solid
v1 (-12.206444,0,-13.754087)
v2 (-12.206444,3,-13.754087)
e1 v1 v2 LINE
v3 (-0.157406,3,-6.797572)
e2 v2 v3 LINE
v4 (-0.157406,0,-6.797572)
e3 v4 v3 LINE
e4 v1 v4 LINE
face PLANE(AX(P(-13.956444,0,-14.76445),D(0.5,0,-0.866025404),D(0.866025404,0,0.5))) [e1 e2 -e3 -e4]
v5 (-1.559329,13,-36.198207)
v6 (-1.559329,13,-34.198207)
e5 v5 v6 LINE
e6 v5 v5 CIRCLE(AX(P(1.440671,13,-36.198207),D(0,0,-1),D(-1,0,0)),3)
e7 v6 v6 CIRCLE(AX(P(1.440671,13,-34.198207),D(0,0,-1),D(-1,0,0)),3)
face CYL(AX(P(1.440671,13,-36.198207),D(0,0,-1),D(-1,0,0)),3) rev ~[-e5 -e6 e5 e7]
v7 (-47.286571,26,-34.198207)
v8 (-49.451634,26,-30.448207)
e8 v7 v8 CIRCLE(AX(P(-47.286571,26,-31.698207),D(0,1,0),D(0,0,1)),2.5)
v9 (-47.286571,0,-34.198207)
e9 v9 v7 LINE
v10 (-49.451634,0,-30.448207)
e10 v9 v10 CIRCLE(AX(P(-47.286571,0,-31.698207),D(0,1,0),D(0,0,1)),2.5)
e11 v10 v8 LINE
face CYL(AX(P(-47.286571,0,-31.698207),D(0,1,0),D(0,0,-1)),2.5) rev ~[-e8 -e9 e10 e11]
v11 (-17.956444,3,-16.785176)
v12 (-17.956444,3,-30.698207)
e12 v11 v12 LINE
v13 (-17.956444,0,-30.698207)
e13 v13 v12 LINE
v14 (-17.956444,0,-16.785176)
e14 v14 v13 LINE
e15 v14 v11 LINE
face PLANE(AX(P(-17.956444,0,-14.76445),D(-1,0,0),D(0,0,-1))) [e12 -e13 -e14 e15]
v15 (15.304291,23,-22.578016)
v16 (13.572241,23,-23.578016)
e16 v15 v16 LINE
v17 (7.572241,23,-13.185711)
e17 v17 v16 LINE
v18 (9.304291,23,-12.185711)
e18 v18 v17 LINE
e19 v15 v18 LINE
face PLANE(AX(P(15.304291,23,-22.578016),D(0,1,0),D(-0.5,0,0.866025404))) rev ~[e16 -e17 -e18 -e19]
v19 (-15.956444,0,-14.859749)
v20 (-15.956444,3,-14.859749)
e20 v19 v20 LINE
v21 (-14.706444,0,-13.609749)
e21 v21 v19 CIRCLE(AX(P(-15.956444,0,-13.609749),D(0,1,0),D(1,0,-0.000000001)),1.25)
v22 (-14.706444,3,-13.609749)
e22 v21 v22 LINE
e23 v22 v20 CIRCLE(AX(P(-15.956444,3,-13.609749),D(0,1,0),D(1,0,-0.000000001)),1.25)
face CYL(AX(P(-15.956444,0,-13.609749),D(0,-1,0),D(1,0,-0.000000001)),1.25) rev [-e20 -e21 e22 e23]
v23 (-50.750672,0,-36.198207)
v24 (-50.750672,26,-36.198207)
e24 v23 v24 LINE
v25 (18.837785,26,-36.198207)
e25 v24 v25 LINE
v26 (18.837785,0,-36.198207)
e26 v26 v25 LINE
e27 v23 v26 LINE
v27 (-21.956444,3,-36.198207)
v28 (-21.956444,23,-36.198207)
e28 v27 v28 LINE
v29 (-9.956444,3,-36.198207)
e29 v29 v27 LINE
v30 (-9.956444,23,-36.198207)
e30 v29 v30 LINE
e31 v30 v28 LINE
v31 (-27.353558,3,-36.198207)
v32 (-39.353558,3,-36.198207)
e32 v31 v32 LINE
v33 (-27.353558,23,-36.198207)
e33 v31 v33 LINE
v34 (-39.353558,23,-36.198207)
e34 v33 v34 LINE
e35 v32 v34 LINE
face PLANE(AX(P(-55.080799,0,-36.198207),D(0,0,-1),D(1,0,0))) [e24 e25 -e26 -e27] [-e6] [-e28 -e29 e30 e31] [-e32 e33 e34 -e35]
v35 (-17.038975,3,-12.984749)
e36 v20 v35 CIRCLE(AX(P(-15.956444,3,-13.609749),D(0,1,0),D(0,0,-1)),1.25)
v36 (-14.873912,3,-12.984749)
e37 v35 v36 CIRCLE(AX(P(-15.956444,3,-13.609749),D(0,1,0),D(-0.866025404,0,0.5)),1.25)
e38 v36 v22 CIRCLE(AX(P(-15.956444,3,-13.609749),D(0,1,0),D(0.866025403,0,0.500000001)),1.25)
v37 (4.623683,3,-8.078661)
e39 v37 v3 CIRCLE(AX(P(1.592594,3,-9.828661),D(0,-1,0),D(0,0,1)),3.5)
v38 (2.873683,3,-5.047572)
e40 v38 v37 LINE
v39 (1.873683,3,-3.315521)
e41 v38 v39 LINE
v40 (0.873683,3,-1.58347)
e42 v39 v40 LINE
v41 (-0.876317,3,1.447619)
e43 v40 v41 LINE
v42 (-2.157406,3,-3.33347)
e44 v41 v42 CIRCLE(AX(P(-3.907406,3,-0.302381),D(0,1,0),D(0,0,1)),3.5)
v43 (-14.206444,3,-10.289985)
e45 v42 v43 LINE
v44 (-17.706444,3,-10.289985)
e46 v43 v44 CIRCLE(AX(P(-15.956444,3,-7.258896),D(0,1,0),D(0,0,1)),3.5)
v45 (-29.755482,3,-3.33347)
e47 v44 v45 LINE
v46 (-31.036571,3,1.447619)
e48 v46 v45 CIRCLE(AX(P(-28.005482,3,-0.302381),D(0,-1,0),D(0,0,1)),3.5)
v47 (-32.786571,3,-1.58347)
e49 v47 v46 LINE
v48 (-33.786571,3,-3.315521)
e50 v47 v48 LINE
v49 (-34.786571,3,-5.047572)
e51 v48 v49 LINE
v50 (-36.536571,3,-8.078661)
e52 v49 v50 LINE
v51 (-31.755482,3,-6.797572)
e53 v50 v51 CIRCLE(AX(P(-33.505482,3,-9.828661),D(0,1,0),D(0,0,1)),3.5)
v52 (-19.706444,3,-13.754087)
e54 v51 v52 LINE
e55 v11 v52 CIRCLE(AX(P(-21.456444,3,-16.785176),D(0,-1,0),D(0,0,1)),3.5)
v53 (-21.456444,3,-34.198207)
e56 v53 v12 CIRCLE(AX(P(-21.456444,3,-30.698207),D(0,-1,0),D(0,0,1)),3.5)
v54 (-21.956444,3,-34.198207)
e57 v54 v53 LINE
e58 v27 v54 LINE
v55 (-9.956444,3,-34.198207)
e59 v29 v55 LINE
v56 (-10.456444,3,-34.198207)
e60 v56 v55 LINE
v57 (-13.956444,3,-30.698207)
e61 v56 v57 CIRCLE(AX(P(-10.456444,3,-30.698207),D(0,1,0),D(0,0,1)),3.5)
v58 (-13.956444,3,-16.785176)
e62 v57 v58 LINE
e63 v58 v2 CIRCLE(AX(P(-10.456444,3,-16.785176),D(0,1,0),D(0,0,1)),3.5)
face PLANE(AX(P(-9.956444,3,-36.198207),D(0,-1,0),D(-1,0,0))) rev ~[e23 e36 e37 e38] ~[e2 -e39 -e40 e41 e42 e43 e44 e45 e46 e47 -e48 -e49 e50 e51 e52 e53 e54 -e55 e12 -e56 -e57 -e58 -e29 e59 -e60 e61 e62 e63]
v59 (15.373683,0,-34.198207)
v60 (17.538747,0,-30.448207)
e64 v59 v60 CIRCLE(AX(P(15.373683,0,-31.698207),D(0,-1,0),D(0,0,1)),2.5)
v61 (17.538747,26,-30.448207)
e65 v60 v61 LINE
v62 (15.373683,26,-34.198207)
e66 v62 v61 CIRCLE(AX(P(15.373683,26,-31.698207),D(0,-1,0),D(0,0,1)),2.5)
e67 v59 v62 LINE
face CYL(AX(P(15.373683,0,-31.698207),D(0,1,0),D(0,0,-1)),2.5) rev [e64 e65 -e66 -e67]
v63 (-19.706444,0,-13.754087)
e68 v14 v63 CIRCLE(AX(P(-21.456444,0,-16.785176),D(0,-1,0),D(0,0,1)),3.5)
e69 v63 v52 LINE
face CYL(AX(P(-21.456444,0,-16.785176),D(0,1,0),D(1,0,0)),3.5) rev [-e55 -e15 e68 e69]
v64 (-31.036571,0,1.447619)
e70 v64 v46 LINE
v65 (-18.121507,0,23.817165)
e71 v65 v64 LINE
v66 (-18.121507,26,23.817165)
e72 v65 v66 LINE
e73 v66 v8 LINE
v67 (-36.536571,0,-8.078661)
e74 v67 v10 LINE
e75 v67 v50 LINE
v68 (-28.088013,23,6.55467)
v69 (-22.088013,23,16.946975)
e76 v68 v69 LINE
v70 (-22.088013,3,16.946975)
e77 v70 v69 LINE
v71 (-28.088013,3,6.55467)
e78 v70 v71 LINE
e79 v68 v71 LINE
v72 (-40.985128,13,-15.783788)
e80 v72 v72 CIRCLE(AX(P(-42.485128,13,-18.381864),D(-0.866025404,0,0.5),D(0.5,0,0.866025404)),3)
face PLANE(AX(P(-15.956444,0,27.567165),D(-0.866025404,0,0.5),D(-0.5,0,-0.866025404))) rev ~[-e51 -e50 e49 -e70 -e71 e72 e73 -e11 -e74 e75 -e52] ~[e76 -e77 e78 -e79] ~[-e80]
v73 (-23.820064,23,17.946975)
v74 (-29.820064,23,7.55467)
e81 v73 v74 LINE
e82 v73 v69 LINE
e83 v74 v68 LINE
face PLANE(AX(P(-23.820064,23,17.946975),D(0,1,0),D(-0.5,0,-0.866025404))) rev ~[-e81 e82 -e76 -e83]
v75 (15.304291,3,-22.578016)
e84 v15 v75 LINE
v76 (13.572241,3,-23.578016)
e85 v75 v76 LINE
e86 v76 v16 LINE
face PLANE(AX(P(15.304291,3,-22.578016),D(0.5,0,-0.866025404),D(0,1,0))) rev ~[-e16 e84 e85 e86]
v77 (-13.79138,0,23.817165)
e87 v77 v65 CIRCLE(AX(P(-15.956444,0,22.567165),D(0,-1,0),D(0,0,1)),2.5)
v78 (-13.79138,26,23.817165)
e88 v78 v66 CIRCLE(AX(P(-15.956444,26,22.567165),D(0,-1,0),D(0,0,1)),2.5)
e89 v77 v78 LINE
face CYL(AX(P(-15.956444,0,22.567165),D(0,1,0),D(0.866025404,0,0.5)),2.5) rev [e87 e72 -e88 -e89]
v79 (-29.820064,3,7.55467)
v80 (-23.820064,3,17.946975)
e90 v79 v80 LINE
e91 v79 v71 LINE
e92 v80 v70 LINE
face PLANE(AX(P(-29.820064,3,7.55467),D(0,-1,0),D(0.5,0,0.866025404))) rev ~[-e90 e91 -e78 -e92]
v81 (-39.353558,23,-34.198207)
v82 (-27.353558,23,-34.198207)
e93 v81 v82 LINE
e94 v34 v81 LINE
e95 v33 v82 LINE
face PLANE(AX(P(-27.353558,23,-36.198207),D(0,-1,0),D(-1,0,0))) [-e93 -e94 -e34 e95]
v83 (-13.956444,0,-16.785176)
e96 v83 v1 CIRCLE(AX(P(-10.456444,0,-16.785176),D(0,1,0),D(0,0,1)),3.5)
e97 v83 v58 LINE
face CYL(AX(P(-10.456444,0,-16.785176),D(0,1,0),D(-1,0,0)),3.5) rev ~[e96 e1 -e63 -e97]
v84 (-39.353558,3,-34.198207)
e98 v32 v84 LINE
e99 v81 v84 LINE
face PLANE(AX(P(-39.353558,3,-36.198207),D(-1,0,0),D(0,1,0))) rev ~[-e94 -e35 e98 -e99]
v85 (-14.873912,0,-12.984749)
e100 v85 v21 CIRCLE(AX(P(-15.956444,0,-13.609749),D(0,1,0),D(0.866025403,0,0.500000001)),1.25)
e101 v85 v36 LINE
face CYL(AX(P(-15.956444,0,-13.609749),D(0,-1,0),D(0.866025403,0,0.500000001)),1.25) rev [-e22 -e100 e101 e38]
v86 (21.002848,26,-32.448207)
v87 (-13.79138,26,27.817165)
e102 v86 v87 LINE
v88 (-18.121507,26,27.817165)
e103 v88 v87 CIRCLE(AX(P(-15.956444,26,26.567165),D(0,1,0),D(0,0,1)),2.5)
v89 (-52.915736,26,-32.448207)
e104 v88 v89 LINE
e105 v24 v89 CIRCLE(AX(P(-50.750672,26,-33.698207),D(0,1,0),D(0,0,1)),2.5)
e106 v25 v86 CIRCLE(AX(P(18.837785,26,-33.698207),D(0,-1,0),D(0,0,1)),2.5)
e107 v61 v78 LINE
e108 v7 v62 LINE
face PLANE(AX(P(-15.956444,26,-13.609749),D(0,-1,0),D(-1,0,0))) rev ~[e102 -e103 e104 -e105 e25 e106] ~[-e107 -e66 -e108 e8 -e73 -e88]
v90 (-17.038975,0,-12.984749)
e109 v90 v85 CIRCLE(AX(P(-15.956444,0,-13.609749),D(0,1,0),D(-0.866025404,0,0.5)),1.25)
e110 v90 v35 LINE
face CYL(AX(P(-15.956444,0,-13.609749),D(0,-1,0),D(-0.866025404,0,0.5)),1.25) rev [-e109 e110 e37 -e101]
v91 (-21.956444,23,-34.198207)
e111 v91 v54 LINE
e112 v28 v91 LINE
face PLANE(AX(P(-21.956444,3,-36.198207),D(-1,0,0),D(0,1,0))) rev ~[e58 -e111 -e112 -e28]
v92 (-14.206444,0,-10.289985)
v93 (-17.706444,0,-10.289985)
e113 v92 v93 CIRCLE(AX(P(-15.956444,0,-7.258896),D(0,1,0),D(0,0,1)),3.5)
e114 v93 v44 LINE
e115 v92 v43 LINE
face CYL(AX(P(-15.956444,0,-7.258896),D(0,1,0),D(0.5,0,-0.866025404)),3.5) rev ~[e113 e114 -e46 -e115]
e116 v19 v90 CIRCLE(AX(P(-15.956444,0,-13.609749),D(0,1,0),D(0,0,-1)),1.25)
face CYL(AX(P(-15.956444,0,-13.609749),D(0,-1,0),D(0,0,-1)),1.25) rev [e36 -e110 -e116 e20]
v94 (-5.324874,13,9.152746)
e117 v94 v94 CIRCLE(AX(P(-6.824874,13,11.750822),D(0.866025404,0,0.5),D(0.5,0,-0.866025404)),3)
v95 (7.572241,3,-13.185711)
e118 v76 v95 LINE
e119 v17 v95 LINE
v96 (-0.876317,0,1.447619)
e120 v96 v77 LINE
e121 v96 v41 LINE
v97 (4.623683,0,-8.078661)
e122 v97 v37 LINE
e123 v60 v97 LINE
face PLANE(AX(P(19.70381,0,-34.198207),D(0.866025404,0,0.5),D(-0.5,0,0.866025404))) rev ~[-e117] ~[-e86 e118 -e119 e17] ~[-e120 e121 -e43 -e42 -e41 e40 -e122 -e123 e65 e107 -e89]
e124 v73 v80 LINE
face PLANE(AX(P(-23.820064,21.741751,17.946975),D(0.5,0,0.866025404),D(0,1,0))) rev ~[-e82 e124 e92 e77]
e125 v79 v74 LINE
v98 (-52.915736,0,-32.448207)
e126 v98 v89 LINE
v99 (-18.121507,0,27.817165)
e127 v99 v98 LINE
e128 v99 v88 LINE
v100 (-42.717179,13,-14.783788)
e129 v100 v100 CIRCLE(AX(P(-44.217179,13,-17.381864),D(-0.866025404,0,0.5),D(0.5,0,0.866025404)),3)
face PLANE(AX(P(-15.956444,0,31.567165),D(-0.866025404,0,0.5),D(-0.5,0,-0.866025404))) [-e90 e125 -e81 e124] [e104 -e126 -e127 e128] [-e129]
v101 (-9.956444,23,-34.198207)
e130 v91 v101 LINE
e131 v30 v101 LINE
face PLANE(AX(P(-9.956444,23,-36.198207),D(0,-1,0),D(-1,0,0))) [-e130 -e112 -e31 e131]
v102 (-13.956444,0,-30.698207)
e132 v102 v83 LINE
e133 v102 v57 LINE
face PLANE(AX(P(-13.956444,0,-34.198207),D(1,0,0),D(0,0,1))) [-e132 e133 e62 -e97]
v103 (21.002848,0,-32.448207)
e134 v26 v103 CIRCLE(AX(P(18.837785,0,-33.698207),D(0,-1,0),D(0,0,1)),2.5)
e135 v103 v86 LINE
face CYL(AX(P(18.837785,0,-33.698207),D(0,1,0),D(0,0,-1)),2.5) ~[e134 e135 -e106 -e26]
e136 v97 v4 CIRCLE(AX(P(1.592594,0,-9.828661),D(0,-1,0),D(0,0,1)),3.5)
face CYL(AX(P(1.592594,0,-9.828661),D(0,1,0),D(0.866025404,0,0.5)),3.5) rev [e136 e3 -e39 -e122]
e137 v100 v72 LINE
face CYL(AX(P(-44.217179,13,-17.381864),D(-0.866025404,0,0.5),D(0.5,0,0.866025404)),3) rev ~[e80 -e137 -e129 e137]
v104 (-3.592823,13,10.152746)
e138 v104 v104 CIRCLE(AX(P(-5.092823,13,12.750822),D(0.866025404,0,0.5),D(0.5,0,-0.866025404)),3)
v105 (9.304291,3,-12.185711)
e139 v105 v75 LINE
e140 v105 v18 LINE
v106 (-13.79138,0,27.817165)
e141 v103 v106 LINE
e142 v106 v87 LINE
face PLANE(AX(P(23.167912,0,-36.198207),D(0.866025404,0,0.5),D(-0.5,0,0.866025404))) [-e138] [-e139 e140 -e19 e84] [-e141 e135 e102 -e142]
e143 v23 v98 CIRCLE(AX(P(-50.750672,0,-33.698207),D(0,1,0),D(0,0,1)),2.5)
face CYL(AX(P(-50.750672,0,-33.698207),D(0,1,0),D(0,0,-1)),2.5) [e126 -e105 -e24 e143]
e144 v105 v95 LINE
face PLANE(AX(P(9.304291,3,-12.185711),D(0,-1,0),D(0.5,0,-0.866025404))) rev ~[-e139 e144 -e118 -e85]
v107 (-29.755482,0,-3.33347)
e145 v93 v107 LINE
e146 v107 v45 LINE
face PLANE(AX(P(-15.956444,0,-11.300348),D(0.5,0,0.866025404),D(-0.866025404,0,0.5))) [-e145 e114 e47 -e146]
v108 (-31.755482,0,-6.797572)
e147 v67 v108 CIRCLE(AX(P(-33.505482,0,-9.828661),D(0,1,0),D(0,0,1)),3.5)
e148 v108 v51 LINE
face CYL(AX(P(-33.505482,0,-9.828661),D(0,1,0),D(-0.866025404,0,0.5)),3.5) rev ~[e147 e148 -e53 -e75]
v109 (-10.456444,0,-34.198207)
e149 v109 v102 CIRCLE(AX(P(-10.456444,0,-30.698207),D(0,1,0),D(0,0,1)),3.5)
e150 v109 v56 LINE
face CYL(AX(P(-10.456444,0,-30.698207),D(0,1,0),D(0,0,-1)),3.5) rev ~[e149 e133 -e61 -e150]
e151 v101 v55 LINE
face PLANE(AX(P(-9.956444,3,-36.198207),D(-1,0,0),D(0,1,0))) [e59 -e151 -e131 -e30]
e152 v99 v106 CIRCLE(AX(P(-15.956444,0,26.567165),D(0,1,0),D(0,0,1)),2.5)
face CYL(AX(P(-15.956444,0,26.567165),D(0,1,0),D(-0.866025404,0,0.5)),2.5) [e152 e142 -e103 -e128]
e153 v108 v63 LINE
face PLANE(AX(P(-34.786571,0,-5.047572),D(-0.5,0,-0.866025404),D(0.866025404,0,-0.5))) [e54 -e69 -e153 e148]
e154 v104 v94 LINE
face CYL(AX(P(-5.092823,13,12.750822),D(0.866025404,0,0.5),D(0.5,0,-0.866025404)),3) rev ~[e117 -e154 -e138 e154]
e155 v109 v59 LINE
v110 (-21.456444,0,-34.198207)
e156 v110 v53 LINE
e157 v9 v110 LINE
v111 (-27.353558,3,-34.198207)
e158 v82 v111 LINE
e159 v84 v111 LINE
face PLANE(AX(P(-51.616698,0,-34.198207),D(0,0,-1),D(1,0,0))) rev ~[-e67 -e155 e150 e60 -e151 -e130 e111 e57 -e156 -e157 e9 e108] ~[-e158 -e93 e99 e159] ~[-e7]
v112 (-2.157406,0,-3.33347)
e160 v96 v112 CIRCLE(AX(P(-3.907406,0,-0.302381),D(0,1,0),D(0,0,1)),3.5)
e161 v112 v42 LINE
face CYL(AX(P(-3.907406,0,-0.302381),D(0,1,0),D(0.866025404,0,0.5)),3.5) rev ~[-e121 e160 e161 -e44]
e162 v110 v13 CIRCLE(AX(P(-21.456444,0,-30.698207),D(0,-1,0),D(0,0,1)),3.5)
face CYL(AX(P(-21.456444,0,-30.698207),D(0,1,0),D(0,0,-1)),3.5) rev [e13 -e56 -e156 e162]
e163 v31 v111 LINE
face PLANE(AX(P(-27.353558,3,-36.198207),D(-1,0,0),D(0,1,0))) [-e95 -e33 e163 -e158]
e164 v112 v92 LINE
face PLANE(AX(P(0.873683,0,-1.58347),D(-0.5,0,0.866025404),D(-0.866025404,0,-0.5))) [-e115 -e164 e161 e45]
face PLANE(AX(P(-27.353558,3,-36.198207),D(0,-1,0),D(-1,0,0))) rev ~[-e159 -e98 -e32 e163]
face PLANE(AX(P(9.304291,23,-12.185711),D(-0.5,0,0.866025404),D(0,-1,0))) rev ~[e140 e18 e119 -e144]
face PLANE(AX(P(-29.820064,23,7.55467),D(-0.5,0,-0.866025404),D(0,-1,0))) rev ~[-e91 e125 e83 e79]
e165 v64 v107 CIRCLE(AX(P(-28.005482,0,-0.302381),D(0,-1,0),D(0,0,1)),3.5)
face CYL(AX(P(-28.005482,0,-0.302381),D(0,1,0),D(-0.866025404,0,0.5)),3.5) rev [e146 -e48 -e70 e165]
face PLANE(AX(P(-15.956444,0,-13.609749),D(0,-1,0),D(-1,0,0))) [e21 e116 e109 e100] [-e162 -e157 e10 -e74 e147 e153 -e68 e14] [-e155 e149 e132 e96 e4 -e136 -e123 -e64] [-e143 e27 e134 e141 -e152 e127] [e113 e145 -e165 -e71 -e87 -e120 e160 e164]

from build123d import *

# Parameters (mm, degrees)
BOSS_EXTRUDE1_DEPTH = 26
FILLET1_R           = 2.5
CUT_EXTRUDE1_REACH  = 76.051
SKETCH2_R           = 3
CUT_EXTRUDE2_REACH  = 73.261
SKETCH3_R           = 3
CUT_EXTRUDE3_REACH  = 90.154
SKETCH4_R           = 3
SKETCH4_W           = 12
SKETCH4_H           = 20
BOSS_EXTRUDE2_DEPTH = 3
FILLET2_R           = 3.5


with BuildPart() as part:
    # Sketch1 → Boss-Extrude1 (new body)
    with BuildSketch(Plane(origin=(0, 0, 0), x_dir=(1, 0, 0), z_dir=(0, 1, 0))):
        Polygon((-55.080799194, 36.198206666), (23.167912006, 36.198206666), (-15.956443594, -31.567165046), align=None)
        Polygon((-51.616697579, 34.198206666), (19.703810391, 34.198206666), (-15.956443594, -27.567165046), align=None, mode=Mode.SUBTRACT)
    extrude(amount=BOSS_EXTRUDE1_DEPTH)

    # Fillet1
    fillet1_edges = [part.edges().sort_by_distance(p)[0] for p in [
        (-51.616697579, 13, -34.198206666),
        (-15.956443594, 13, 27.567165046),
        (19.703810391, 13, -34.198206666),
        (-55.080799194, 13, -36.198206666),
        (23.167912006, 13, -36.198206666),
        (-15.956443594, 13, 31.567165046),
    ]]
    fillet(fillet1_edges, radius=FILLET1_R)

    # Sketch2 → Cut-Extrude1 (cut, up to next)
    with BuildSketch(Plane(origin=(-25.636316123, 0, 14.801134015), x_dir=(0.49999999999999806, 0, 0.8660254037844397), z_dir=(-0.8660254037844397, 0, 0.49999999999999806)), mode=Mode.PRIVATE) as cut_extrude1_sk1:
        Polygon((3.632503749, 4.258248906), (-8.367496251, 8.741751094), (-8.367496251, 3), (3.632503749, 3), align=None)
    cut_extrude1_tool1 = extrude(cut_extrude1_sk1.sketch, amount=-CUT_EXTRUDE1_REACH, mode=Mode.PRIVATE) & part.part
    # Sketch2 → Cut-Extrude1 (cut, up to next)
    with BuildSketch(Plane(origin=(-25.636316123, 0, 14.801134015), x_dir=(0.49999999999999806, 0, 0.8660254037844397), z_dir=(-0.8660254037844397, 0, 0.49999999999999806)), mode=Mode.PRIVATE) as cut_extrude1_sk2:
        Polygon((-8.367496251, 13), (-8.367496251, 8.741751094), (3.632503749, 4.258248906), (3.632503749, 13), align=None)
    cut_extrude1_tool2 = extrude(cut_extrude1_sk2.sketch, amount=-CUT_EXTRUDE1_REACH, mode=Mode.PRIVATE) & part.part
    # Sketch2 → Cut-Extrude1 (cut, up to next)
    with BuildSketch(Plane(origin=(-25.636316123, 0, 14.801134015), x_dir=(0.49999999999999806, 0, 0.8660254037844397), z_dir=(-0.8660254037844397, 0, 0.49999999999999806)), mode=Mode.PRIVATE) as cut_extrude1_sk3:
        Polygon((3.632503749, 21.741751094), (-8.367496251, 17.258248906), (-8.367496251, 13), (3.632503749, 13), align=None)
    cut_extrude1_tool3 = extrude(cut_extrude1_sk3.sketch, amount=-CUT_EXTRUDE1_REACH, mode=Mode.PRIVATE) & part.part
    # Sketch2 → Cut-Extrude1 (cut, up to next)
    with BuildSketch(Plane(origin=(-25.636316123, 0, 14.801134015), x_dir=(0.49999999999999806, 0, 0.8660254037844397), z_dir=(-0.8660254037844397, 0, 0.49999999999999806)), mode=Mode.PRIVATE) as cut_extrude1_sk4:
        Polygon((-8.367496251, 23), (-8.367496251, 17.258248906), (3.632503749, 21.741751094), (3.632503749, 23), align=None)
    cut_extrude1_tool4 = extrude(cut_extrude1_sk4.sketch, amount=-CUT_EXTRUDE1_REACH, mode=Mode.PRIVATE) & part.part
    # Sketch2 → Cut-Extrude1 (cut, up to next)
    with BuildSketch(Plane(origin=(-25.636316123, 0, 14.801134015), x_dir=(0.49999999999999806, 0, 0.8660254037844397), z_dir=(-0.8660254037844397, 0, 0.49999999999999806)), mode=Mode.PRIVATE) as cut_extrude1_sk5:
        with Locations((-37.161724832, 13)):
            Circle(SKETCH2_R)
    cut_extrude1_tool5 = extrude(cut_extrude1_sk5.sketch, amount=-CUT_EXTRUDE1_REACH, mode=Mode.PRIVATE) & part.part
    add(cut_extrude1_tool1.solids().sort_by_distance((-27.460565, 4.989307, 11.641443))[0], mode=Mode.SUBTRACT)
    add(cut_extrude1_tool2.solids().sort_by_distance((-26.475179, 9.621142, 13.34818))[0], mode=Mode.SUBTRACT)
    add(cut_extrude1_tool3.solids().sort_by_distance((-26.475179, 16.378858, 13.34818))[0], mode=Mode.SUBTRACT)
    add(cut_extrude1_tool4.solids().sort_by_distance((-27.460565, 21.010693, 11.641443))[0], mode=Mode.SUBTRACT)
    add(cut_extrude1_tool5.solids().sort_by_distance((-44.217179, 13, -17.381864))[0], mode=Mode.SUBTRACT)

    # Sketch3 → Cut-Extrude2 (cut, up to next)
    with BuildSketch(Plane(origin=(1.701650732, 0, 0.982448508), x_dir=(0.5000000000000041, 0, -0.8660254037844364), z_dir=(0.8660254037844364, 0, 0.5000000000000041)), mode=Mode.PRIVATE) as cut_extrude2_sk1:
        Polygon((15.205281238, 13), (15.205281238, 8.741751094), (27.205281238, 4.258248906), (27.205281238, 13), align=None)
    cut_extrude2_tool1 = extrude(cut_extrude2_sk1.sketch, amount=-CUT_EXTRUDE2_REACH, mode=Mode.PRIVATE) & part.part
    # Sketch3 → Cut-Extrude2 (cut, up to next)
    with BuildSketch(Plane(origin=(1.701650732, 0, 0.982448508), x_dir=(0.5000000000000041, 0, -0.8660254037844364), z_dir=(0.8660254037844364, 0, 0.5000000000000041)), mode=Mode.PRIVATE) as cut_extrude2_sk2:
        Polygon((27.205281238, 4.258248906), (15.205281238, 8.741751094), (15.205281238, 3), (27.205281238, 3), align=None)
    cut_extrude2_tool2 = extrude(cut_extrude2_sk2.sketch, amount=-CUT_EXTRUDE2_REACH, mode=Mode.PRIVATE) & part.part
    # Sketch3 → Cut-Extrude2 (cut, up to next)
    with BuildSketch(Plane(origin=(1.701650732, 0, 0.982448508), x_dir=(0.5000000000000041, 0, -0.8660254037844364), z_dir=(0.8660254037844364, 0, 0.5000000000000041)), mode=Mode.PRIVATE) as cut_extrude2_sk3:
        Polygon((27.205281238, 21.741751094), (15.205281238, 17.258248906), (15.205281238, 13), (27.205281238, 13), align=None)
    cut_extrude2_tool3 = extrude(cut_extrude2_sk3.sketch, amount=-CUT_EXTRUDE2_REACH, mode=Mode.PRIVATE) & part.part
    # Sketch3 → Cut-Extrude2 (cut, up to next)
    with BuildSketch(Plane(origin=(1.701650732, 0, 0.982448508), x_dir=(0.5000000000000041, 0, -0.8660254037844364), z_dir=(0.8660254037844364, 0, 0.5000000000000041)), mode=Mode.PRIVATE) as cut_extrude2_sk4:
        Polygon((15.205281238, 23), (15.205281238, 17.258248906), (27.205281238, 21.741751094), (27.205281238, 23), align=None)
    cut_extrude2_tool4 = extrude(cut_extrude2_sk4.sketch, amount=-CUT_EXTRUDE2_REACH, mode=Mode.PRIVATE) & part.part
    # Sketch3 → Cut-Extrude2 (cut, up to next)
    with BuildSketch(Plane(origin=(1.701650732, 0, 0.982448508), x_dir=(0.5000000000000041, 0, -0.8660254037844364), z_dir=(0.8660254037844364, 0, 0.5000000000000041)), mode=Mode.PRIVATE) as cut_extrude2_sk5:
        with Locations((-13.588947343, 13)):
            Circle(SKETCH3_R)
    cut_extrude2_tool5 = extrude(cut_extrude2_sk5.sketch, amount=-CUT_EXTRUDE2_REACH, mode=Mode.PRIVATE) & part.part
    add(cut_extrude2_tool1.solids().sort_by_distance((12.649176, 9.621142, -17.979222))[0], mode=Mode.SUBTRACT)
    add(cut_extrude2_tool2.solids().sort_by_distance((11.663791, 4.989307, -16.272485))[0], mode=Mode.SUBTRACT)
    add(cut_extrude2_tool3.solids().sort_by_distance((12.649176, 16.378858, -17.979222))[0], mode=Mode.SUBTRACT)
    add(cut_extrude2_tool4.solids().sort_by_distance((11.663791, 21.010693, -16.272485))[0], mode=Mode.SUBTRACT)
    add(cut_extrude2_tool5.solids().sort_by_distance((-5.092823, 13, 12.750822))[0], mode=Mode.SUBTRACT)

    # Sketch4 → Cut-Extrude3 (cut, up to next)
    with BuildSketch(Plane(origin=(0, 0, -36.198206666), x_dir=(-1, 0, 0), z_dir=(0, 0, -1)), mode=Mode.PRIVATE) as cut_extrude3_sk1:
        with Locations((-1.440670696, 13)):
            Circle(SKETCH4_R)
    cut_extrude3_tool1 = extrude(cut_extrude3_sk1.sketch, amount=-CUT_EXTRUDE3_REACH, mode=Mode.PRIVATE) & part.part
    # Sketch4 → Cut-Extrude3 (cut, up to next)
    with BuildSketch(Plane(origin=(0, 0, -36.198206666), x_dir=(-1, 0, 0), z_dir=(0, 0, -1)), mode=Mode.PRIVATE) as cut_extrude3_sk2:
        with Locations((15.956443594, 13)):
            Rectangle(SKETCH4_W, SKETCH4_H)
    cut_extrude3_tool2 = extrude(cut_extrude3_sk2.sketch, amount=-CUT_EXTRUDE3_REACH, mode=Mode.PRIVATE) & part.part
    # Sketch4 → Cut-Extrude3 (cut, up to next)
    with BuildSketch(Plane(origin=(0, 0, -36.198206666), x_dir=(-1, 0, 0), z_dir=(0, 0, -1)), mode=Mode.PRIVATE) as cut_extrude3_sk3:
        with Locations((33.353557885, 13)):
            Rectangle(SKETCH4_W, SKETCH4_H)
    cut_extrude3_tool3 = extrude(cut_extrude3_sk3.sketch, amount=-CUT_EXTRUDE3_REACH, mode=Mode.PRIVATE) & part.part
    add(cut_extrude3_tool1.solids().sort_by_distance((1.440671, 13, -36.198207))[0], mode=Mode.SUBTRACT)
    add(cut_extrude3_tool2.solids().sort_by_distance((-15.956444, 13, -36.198207))[0], mode=Mode.SUBTRACT)
    add(cut_extrude3_tool3.solids().sort_by_distance((-33.353558, 13, -36.198207))[0], mode=Mode.SUBTRACT)

    # Sketch5 → Boss-Extrude2 (add)
    with BuildSketch(Plane.XZ):
        with BuildLine():
            Line((-17.038975349, -12.984749429), (-33.786570587, -3.31552081))
            Line((-33.786570587, -3.31552081), (-34.786570587, -5.047571617))
            Line((-34.786570587, -5.047571617), (-17.956443594, -14.764449967))
            Line((-17.956443594, -14.764449967), (-17.956443594, -34.198206666))
            Line((-17.956443594, -34.198206666), (-15.956443594, -34.198206666))
            Line((-15.956443594, -34.198206666), (-15.956443594, -14.859749429))
            ThreePointArc((-15.956443594, -14.859749429), (-17.038975349, -14.234749429), (-17.038975349, -12.984749429))
        make_face()
        with BuildLine():
            Line((-32.786570587, -1.583470002), (-33.786570587, -3.31552081))
            Line((-33.786570587, -3.31552081), (-17.038975349, -12.984749429))
            ThreePointArc((-17.038975349, -12.984749429), (-15.956443594, -12.359749429), (-14.873911839, -12.984749429))
            Line((-14.873911839, -12.984749429), (1.873683398, -3.31552081))
            Line((1.873683398, -3.31552081), (0.873683398, -1.583470002))
            Line((0.873683398, -1.583470002), (-15.956443594, -11.300348352))
            Line((-15.956443594, -11.300348352), (-32.786570587, -1.583470002))
        make_face()
        with BuildLine():
            Line((1.873683398, -3.31552081), (-14.873911839, -12.984749429))
            ThreePointArc((-14.873911839, -12.984749429), (-14.749036311, -13.286225622), (-14.706443594, -13.609749429))
            ThreePointArc((-14.706443594, -13.609749429), (-15.072560118, -14.493632905), (-15.956443594, -14.859749429))
            Line((-15.956443594, -14.859749429), (-15.956443594, -34.198206666))
            Line((-15.956443594, -34.198206666), (-13.956443594, -34.198206666))
            Line((-13.956443594, -34.198206666), (-13.956443594, -14.764449967))
            Line((-13.956443594, -14.764449967), (2.873683398, -5.047571617))
            Line((2.873683398, -5.047571617), (1.873683398, -3.31552081))
        make_face()
    extrude(amount=-BOSS_EXTRUDE2_DEPTH)

    # Fillet2
    fillet2_edges = [part.edges().sort_by_distance(p)[0] for p in [
        (0.873683398, 1.5, -1.583470002),
        (2.873683398, 1.5, -5.047571617),
        (-13.956443594, 1.5, -14.764449967),
        (-13.956443594, 1.5, -34.198206666),
        (-17.956443594, 1.5, -34.198206666),
        (-17.956443594, 1.5, -14.764449967),
        (-34.786570587, 1.5, -5.047571617),
        (-32.786570587, 1.5, -1.583470002),
        (-15.956443594, 1.5, -11.300348352),
    ]]
    fillet(fillet2_edges, radius=FILLET2_R)


solid = part.part
